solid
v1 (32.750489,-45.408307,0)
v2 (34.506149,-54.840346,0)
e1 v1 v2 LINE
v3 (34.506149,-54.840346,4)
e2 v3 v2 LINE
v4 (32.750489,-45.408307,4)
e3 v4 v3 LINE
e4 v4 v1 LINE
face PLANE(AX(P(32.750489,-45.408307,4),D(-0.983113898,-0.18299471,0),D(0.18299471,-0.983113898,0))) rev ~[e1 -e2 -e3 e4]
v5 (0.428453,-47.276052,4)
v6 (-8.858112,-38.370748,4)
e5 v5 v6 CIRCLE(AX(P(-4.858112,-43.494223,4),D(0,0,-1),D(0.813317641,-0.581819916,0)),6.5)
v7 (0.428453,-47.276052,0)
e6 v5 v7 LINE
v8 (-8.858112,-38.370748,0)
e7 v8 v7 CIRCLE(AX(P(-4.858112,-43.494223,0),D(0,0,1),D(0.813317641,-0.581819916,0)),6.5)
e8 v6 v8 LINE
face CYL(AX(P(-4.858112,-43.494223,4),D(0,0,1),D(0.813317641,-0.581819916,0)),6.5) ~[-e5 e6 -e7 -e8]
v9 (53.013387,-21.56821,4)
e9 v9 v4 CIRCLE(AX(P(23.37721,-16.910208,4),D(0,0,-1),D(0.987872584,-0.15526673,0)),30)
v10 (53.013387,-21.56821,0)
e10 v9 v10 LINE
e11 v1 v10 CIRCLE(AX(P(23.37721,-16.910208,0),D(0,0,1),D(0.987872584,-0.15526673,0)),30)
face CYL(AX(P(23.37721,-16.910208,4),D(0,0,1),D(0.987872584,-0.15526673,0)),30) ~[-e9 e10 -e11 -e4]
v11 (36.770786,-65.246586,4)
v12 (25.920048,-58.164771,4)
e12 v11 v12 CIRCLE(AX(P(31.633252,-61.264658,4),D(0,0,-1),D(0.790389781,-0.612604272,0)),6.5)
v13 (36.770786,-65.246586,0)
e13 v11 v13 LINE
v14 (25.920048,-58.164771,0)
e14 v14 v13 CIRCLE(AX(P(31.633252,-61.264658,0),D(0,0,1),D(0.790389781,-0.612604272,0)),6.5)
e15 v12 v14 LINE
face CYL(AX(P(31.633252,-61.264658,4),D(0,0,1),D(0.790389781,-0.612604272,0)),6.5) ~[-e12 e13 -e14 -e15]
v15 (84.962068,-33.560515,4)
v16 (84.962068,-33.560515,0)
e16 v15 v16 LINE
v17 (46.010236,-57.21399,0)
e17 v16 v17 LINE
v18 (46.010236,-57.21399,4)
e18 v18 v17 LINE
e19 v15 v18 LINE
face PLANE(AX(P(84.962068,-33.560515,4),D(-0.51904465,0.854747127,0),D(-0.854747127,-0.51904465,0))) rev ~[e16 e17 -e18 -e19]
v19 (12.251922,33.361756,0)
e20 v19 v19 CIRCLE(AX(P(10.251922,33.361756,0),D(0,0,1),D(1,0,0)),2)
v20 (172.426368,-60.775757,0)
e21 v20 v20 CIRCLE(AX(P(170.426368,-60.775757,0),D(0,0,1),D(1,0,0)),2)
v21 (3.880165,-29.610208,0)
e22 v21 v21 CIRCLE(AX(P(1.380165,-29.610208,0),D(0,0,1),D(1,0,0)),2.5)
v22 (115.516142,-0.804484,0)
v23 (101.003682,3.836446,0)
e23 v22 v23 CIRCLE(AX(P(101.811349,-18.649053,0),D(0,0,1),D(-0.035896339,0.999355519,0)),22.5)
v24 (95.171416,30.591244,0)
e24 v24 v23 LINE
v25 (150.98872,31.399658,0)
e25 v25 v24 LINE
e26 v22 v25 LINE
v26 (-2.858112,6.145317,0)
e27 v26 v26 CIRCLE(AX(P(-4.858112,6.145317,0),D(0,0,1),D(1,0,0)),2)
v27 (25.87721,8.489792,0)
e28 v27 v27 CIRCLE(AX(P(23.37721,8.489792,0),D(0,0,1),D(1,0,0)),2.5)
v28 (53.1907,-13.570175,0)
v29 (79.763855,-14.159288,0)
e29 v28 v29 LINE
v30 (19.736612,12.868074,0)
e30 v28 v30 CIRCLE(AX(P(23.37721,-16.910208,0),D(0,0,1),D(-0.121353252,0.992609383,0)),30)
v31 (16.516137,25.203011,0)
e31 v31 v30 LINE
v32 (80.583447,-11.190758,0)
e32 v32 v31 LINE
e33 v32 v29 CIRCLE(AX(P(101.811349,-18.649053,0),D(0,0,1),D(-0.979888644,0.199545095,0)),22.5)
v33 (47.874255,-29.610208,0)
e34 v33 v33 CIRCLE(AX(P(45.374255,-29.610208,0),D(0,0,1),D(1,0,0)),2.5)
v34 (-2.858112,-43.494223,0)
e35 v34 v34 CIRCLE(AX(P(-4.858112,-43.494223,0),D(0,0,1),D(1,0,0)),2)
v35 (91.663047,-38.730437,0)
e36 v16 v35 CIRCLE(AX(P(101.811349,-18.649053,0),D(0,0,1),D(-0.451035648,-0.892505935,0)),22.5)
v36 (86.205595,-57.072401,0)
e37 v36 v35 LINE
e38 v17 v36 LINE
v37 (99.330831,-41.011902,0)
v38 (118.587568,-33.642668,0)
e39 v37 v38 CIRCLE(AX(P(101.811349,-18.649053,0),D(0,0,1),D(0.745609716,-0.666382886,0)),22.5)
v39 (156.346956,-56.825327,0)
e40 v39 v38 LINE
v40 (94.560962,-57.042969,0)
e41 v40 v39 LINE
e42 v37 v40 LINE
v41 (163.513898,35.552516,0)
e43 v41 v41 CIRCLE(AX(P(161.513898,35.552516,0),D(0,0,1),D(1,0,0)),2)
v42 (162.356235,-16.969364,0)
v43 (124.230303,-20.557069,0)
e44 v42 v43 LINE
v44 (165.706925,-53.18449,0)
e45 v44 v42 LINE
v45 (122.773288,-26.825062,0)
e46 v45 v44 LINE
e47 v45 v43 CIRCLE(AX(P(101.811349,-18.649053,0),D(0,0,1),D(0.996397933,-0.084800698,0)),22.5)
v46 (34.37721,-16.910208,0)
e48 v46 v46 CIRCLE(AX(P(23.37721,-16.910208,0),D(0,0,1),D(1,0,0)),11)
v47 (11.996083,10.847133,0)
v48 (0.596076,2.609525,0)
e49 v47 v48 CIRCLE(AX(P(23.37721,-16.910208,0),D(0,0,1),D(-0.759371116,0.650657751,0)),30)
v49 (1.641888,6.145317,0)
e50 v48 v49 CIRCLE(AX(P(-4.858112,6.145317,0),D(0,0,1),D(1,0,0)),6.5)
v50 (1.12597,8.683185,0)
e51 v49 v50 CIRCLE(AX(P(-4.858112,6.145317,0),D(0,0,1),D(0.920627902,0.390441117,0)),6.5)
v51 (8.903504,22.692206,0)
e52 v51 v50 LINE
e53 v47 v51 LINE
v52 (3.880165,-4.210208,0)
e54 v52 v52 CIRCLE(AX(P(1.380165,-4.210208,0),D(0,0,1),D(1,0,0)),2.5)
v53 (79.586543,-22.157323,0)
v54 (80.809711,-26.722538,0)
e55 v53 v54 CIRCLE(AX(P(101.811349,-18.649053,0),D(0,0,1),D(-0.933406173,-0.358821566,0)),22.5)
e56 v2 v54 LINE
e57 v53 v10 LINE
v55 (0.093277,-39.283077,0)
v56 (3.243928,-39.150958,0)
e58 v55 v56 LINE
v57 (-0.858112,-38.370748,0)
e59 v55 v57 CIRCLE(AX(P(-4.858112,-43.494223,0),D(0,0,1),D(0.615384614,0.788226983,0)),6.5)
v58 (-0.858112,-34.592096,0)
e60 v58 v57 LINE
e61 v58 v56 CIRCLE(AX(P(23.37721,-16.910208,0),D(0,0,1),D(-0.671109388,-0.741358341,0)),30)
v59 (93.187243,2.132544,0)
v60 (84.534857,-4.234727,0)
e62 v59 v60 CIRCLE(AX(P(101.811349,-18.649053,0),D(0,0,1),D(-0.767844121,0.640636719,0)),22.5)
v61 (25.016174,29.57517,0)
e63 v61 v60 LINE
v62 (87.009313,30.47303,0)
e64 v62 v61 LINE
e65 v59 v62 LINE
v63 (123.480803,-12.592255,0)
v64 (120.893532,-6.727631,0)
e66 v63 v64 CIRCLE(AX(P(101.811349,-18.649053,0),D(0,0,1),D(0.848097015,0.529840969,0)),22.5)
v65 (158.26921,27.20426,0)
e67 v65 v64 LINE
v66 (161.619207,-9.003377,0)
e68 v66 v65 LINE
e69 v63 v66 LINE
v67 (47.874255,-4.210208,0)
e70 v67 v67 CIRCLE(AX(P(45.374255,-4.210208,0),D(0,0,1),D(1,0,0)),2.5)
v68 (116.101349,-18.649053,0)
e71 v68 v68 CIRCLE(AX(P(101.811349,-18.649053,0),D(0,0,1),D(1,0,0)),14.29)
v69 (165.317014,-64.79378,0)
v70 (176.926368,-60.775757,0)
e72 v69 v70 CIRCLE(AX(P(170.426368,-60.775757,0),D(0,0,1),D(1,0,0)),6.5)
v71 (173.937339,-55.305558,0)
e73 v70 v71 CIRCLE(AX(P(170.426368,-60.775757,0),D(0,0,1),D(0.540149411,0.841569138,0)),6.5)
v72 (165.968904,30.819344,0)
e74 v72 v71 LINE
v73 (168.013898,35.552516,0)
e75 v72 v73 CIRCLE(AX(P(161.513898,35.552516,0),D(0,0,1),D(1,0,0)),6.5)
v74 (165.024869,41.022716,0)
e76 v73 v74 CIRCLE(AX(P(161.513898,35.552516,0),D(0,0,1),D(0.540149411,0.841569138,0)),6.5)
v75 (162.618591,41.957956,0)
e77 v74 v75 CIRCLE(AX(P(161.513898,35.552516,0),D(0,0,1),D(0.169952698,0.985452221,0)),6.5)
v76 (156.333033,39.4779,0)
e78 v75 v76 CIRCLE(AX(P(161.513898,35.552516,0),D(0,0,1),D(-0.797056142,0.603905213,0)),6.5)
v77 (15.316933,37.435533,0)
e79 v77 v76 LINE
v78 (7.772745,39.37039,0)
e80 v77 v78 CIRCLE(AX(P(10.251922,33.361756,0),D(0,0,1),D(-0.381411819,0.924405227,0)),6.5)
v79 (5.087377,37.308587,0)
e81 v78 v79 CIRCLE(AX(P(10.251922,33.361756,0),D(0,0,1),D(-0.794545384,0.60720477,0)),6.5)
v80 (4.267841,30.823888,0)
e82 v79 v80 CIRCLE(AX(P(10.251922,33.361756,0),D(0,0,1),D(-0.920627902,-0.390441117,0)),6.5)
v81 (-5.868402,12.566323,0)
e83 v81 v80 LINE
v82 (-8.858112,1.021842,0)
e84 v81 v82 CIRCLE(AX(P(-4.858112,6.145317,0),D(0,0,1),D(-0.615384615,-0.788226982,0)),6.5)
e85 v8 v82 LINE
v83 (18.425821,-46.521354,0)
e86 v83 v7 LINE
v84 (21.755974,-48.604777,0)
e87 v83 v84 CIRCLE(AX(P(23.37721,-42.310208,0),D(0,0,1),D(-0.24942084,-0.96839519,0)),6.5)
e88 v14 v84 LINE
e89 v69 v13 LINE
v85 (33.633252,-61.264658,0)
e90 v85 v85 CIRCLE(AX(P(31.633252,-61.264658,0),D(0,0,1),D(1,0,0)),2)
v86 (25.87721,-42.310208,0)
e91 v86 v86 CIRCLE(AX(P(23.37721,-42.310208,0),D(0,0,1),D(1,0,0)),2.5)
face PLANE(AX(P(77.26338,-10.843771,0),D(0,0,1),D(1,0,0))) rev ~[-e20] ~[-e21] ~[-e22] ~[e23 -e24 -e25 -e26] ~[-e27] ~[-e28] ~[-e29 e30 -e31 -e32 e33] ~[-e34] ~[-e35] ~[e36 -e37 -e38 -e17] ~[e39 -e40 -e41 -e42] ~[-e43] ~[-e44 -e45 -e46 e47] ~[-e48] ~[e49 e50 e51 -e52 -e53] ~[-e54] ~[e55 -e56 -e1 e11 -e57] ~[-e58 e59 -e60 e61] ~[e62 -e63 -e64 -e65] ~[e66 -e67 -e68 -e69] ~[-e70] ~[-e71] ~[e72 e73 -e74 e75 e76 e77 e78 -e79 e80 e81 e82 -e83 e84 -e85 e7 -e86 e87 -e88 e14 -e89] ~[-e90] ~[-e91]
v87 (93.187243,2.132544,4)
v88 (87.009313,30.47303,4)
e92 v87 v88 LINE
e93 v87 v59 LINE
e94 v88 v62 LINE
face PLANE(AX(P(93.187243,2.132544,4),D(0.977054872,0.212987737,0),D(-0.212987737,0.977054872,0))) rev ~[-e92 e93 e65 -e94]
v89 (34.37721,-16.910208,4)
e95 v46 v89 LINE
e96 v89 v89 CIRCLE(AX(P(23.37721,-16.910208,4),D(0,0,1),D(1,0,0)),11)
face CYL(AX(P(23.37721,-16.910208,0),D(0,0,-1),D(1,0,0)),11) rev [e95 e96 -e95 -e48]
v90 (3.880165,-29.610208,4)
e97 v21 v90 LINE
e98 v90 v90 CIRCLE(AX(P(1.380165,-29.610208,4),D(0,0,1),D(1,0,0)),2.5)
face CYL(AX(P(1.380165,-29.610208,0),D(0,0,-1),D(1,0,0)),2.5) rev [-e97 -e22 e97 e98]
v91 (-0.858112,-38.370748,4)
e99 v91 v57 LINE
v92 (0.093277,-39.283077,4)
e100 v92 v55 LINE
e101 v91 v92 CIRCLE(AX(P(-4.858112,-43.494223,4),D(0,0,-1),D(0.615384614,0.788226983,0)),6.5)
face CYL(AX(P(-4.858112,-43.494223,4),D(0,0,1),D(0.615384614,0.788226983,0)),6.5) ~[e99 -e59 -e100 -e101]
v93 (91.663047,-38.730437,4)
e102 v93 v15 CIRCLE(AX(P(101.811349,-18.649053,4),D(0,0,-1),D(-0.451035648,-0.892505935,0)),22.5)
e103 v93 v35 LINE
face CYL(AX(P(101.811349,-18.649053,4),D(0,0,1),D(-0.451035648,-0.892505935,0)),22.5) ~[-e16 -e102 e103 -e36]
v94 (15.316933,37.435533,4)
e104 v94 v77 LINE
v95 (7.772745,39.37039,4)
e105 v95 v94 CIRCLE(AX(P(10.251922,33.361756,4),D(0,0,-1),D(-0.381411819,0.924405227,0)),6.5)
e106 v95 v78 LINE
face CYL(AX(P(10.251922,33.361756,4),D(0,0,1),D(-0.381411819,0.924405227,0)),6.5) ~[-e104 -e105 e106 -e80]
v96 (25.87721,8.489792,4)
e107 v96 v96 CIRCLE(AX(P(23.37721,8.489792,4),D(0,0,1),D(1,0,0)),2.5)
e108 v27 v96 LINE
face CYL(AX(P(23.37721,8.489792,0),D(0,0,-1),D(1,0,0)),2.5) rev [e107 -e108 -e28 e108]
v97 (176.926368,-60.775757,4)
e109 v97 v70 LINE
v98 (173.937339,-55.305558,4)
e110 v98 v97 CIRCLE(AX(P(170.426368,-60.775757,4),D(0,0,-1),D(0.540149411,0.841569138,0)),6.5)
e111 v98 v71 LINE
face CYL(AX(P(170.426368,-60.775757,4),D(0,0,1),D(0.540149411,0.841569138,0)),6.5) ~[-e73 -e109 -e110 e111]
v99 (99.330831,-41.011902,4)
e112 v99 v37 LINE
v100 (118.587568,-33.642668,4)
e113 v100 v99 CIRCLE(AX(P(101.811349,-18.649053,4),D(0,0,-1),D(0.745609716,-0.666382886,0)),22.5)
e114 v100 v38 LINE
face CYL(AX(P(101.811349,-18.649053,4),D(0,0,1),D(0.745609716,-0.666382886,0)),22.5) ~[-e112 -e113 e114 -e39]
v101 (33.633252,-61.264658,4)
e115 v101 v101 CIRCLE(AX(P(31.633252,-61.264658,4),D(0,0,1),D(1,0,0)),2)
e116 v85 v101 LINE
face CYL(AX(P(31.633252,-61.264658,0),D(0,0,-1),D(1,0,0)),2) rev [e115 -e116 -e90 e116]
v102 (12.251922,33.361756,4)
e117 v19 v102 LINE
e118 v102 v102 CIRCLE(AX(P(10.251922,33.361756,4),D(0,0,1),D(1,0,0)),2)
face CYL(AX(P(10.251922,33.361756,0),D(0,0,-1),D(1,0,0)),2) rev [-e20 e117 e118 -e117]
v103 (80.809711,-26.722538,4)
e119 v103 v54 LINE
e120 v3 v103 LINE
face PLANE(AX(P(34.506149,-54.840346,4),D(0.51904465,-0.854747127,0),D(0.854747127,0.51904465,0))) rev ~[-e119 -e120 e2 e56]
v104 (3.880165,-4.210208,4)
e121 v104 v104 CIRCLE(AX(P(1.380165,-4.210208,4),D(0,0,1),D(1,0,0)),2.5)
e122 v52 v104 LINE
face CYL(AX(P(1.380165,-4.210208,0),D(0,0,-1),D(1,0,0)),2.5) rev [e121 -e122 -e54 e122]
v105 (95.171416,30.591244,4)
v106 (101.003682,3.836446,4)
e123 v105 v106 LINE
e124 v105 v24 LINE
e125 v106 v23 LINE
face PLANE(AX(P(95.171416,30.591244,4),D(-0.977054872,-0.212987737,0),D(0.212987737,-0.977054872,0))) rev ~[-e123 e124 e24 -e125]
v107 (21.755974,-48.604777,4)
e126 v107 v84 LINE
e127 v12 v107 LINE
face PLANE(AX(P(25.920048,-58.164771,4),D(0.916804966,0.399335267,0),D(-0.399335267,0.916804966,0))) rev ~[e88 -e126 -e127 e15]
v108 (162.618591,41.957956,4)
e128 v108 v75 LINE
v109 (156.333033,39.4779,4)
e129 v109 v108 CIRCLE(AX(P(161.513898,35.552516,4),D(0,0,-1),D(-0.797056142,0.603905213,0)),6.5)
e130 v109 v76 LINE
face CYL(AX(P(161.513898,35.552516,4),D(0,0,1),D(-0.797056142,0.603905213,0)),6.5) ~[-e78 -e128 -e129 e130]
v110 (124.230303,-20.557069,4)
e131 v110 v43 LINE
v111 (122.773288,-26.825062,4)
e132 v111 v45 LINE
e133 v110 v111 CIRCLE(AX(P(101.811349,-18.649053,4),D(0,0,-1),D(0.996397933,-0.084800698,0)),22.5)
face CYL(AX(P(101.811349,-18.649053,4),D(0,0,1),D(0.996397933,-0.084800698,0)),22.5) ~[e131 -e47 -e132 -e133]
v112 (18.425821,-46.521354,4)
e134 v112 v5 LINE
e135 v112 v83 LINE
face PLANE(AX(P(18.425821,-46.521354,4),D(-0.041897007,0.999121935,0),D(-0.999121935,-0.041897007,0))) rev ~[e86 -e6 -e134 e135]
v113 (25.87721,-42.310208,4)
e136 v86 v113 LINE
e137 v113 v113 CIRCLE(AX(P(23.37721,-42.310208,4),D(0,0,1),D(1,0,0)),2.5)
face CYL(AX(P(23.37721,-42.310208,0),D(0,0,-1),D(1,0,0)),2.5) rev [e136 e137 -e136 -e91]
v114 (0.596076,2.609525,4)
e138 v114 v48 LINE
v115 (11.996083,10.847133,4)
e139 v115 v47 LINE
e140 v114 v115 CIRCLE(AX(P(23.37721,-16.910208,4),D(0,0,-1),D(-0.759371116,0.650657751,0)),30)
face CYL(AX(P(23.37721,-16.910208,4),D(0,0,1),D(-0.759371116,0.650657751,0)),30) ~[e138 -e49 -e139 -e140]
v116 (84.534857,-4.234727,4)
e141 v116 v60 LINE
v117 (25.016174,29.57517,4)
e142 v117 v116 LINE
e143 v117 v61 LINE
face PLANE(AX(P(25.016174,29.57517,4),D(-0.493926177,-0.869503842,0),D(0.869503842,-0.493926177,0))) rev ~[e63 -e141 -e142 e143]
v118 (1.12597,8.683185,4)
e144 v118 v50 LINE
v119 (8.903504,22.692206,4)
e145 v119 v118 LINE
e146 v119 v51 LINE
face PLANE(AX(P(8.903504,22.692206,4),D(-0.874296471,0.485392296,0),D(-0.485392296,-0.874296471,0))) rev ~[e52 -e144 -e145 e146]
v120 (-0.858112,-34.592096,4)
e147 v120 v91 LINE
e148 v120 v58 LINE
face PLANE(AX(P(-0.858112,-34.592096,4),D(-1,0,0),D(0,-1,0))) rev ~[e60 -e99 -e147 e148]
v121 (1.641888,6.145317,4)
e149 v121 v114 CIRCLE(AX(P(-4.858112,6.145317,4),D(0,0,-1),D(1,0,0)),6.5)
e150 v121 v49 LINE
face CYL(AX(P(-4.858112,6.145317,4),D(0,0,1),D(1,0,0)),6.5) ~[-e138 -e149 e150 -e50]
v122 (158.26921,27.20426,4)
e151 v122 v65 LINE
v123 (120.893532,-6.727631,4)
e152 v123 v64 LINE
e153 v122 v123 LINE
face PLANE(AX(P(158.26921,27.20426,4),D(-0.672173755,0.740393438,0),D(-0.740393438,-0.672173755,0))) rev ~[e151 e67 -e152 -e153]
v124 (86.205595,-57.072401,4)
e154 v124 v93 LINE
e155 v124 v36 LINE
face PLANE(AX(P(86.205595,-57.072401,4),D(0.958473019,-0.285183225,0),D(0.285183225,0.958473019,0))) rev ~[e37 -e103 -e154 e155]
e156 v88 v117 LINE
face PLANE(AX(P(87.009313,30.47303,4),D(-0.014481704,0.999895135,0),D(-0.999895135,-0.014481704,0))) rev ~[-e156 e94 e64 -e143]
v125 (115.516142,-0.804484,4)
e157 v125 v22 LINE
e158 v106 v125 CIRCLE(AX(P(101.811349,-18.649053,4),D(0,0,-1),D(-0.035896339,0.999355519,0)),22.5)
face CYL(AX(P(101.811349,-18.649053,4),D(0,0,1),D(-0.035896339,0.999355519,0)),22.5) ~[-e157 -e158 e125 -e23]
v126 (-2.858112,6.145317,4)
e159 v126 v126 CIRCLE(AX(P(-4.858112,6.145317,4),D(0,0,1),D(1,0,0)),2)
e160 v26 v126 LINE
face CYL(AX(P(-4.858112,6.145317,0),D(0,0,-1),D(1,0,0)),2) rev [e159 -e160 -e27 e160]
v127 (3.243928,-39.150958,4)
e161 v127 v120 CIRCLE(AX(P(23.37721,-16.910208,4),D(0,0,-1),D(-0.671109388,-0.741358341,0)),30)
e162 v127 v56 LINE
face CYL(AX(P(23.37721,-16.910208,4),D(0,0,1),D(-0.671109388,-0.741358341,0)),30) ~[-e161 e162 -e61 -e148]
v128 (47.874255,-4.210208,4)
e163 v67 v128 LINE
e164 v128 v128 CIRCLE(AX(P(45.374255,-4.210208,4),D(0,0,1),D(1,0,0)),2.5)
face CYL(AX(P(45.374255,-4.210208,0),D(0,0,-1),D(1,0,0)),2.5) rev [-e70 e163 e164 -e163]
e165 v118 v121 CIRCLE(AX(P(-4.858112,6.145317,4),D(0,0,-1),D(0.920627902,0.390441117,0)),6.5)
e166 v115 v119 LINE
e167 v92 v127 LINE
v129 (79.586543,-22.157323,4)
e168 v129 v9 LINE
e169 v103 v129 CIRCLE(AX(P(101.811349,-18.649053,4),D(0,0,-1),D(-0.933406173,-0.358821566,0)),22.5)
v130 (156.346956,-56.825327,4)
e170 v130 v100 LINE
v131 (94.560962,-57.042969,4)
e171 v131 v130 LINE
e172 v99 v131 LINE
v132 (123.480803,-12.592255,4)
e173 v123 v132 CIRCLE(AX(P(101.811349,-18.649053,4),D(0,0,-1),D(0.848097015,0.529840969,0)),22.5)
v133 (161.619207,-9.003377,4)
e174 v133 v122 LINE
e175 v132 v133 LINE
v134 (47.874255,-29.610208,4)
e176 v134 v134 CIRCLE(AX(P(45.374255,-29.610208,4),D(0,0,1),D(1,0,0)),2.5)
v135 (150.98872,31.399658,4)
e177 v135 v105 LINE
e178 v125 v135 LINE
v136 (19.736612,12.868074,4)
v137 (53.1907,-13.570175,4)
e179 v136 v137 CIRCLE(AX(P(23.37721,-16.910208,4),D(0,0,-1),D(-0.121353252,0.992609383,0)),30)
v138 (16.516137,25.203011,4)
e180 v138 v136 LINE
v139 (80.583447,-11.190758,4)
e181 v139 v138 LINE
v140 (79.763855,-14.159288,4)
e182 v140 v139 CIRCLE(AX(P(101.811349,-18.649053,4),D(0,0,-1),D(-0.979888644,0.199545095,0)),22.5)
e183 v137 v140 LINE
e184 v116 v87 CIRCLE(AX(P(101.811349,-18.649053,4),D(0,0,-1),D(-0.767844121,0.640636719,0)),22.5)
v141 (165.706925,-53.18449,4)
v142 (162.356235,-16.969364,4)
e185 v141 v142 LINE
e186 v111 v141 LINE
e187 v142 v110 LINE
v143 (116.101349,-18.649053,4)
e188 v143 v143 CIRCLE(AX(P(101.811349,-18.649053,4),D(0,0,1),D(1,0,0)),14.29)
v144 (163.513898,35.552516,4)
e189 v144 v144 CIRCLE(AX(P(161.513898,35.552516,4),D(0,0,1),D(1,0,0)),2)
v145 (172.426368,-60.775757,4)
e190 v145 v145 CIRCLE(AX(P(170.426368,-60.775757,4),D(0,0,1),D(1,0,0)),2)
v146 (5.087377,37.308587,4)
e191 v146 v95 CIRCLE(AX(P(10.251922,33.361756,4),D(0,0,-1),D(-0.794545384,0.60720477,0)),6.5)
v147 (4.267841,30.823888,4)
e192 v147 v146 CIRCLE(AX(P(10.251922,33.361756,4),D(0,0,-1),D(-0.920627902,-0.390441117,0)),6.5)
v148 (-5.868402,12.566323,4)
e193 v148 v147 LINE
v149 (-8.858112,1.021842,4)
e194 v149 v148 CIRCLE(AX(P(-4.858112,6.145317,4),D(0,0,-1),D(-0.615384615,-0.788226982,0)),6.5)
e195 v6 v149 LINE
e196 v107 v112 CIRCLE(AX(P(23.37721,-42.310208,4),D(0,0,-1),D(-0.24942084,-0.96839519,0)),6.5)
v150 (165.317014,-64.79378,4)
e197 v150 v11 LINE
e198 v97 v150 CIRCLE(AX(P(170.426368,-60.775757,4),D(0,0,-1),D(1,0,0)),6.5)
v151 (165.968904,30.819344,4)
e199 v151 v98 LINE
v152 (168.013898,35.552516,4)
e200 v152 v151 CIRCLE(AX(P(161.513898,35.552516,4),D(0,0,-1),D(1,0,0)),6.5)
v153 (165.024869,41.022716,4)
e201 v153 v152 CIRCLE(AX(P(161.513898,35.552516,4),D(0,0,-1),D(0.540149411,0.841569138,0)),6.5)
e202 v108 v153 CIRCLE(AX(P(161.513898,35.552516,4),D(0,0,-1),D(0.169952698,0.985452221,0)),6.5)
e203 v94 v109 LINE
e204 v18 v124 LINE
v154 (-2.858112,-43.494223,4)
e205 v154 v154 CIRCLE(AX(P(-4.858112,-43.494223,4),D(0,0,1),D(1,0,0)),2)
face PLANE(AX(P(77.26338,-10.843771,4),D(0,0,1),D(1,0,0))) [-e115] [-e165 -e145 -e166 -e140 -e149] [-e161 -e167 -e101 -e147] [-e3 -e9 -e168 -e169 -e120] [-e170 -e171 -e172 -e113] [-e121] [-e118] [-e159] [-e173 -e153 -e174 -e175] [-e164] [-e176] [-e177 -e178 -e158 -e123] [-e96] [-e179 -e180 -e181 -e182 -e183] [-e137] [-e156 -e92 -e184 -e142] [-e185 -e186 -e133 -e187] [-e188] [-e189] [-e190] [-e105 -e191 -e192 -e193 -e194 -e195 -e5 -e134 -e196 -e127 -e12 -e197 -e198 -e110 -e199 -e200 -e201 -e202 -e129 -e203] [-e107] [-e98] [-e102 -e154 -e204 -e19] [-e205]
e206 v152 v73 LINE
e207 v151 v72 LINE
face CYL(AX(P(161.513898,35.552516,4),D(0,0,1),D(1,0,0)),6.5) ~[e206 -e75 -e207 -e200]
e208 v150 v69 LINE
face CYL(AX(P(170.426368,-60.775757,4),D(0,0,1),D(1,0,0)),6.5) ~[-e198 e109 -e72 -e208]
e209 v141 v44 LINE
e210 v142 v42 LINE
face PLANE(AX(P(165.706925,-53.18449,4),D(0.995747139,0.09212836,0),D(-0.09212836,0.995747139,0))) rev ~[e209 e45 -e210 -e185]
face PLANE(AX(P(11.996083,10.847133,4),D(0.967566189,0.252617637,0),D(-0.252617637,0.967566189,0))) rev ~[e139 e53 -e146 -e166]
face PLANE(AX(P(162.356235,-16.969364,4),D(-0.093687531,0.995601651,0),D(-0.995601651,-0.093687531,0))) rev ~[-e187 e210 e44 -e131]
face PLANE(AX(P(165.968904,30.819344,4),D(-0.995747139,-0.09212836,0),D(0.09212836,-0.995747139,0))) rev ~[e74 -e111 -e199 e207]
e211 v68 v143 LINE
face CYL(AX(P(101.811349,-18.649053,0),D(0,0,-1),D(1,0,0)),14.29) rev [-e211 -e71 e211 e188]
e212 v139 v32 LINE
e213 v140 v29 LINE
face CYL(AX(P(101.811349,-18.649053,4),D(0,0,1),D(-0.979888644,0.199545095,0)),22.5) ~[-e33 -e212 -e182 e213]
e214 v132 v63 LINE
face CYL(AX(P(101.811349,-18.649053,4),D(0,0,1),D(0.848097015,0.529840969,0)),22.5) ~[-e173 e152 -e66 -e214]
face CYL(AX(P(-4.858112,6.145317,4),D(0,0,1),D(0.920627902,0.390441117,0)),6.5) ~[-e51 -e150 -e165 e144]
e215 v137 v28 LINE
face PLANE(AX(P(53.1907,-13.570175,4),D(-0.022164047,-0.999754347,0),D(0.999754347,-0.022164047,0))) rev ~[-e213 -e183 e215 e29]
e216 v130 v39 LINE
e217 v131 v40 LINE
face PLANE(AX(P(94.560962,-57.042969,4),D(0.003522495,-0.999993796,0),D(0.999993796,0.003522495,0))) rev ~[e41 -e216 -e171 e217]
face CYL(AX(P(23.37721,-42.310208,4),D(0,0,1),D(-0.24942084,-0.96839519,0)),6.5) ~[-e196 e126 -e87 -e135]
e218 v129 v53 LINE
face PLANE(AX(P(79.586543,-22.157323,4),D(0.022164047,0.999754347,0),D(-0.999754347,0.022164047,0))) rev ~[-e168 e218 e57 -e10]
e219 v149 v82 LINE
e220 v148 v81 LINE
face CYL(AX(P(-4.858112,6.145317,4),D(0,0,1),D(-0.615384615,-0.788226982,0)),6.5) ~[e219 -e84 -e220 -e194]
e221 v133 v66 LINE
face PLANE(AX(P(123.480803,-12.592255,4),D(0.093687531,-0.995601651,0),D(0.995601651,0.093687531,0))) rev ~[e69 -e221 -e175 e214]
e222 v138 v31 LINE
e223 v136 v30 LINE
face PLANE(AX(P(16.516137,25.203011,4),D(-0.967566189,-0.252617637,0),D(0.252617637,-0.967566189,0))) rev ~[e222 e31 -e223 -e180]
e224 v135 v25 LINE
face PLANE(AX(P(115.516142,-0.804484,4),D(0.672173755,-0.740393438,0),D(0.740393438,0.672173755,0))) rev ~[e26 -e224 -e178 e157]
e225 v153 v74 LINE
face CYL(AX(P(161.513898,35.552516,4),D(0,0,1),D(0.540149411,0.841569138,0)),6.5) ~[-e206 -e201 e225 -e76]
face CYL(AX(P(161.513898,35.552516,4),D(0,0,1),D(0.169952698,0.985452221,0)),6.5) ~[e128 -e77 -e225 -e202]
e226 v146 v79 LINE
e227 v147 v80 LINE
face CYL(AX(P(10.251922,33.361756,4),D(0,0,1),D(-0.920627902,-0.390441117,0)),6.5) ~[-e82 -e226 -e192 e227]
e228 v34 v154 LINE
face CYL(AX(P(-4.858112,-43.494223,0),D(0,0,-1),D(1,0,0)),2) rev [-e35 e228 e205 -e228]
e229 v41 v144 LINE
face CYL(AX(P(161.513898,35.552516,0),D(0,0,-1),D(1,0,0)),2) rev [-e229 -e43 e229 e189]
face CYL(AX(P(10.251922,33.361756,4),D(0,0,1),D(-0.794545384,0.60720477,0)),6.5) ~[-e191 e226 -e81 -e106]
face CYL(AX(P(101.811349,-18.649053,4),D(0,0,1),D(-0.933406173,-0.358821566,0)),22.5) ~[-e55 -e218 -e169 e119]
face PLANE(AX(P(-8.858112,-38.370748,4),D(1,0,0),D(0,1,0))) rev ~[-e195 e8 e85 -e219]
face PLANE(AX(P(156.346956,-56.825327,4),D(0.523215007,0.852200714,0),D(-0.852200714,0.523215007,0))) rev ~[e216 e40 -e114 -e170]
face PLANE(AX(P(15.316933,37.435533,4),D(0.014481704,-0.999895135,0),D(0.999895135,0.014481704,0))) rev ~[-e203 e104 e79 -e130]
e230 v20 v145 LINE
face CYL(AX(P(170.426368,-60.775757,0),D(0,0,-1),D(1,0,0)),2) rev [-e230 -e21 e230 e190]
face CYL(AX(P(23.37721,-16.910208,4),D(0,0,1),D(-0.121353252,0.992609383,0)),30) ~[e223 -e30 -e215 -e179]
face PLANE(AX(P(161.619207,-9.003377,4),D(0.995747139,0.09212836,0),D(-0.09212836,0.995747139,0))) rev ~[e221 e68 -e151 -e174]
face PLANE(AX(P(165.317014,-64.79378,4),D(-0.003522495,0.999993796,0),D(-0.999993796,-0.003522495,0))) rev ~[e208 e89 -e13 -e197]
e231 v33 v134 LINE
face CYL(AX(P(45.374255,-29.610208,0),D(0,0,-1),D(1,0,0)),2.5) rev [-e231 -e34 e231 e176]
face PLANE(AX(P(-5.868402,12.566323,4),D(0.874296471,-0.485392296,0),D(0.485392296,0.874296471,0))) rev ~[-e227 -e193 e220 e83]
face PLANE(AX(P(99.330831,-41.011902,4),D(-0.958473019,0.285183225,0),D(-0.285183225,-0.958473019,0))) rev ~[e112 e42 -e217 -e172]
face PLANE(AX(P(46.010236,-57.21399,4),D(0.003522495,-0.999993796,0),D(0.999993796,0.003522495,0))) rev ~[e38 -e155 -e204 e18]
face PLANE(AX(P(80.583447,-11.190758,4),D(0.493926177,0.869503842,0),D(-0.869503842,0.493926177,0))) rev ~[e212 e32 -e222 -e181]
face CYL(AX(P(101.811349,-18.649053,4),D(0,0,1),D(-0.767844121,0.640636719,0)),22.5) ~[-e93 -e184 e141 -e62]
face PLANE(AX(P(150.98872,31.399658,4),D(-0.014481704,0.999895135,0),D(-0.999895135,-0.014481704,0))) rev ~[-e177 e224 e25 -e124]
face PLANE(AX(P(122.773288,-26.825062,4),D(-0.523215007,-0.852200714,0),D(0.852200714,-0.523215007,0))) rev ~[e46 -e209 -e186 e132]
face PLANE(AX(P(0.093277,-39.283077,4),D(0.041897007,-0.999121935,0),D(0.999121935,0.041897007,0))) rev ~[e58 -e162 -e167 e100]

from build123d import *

# Parameters (mm, degrees)
SKETCH1_W           = 267.603014698
SKETCH1_H           = 153.453144762
SKETCH1_R           = 2
SKETCH1_R_2         = 14.29
SKETCH1_R_3         = 2.499999953
SKETCH1_R_4         = 11
BOSS_EXTRUDE1_DEPTH = 4
SKETCH2_W           = 305.655174706
SKETCH2_H           = 186.291776367
CUT_EXTRUDE8_DEPTH  = 10


with BuildPart() as part:
    # Sketch1 → Boss-Extrude1 (new body)
    with BuildSketch(Plane.XY):
        with Locations((77.263379783, -10.843771022)):
            Rectangle(SKETCH1_W, SKETCH1_H)
        with Locations((-4.85811184, -43.49422294)):
            Circle(SKETCH1_R, mode=Mode.SUBTRACT)
        with Locations((101.811349412, -18.649052962)):
            Circle(SKETCH1_R_2, mode=Mode.SUBTRACT)
        with Locations((31.633252021, -61.264657987)):
            Circle(SKETCH1_R, mode=Mode.SUBTRACT)
        with Locations((10.251922178, 33.361755578)):
            Circle(SKETCH1_R, mode=Mode.SUBTRACT)
        with Locations((170.426367515, -60.775756941)):
            Circle(SKETCH1_R, mode=Mode.SUBTRACT)
        with Locations((161.513898191, 35.55251649)):
            Circle(SKETCH1_R, mode=Mode.SUBTRACT)
        with Locations((-4.85811184, 6.145317428)):
            Circle(SKETCH1_R, mode=Mode.SUBTRACT)
        with Locations((23.377209906, -42.310207828)):
            Circle(SKETCH1_R_3, mode=Mode.SUBTRACT)
        with Locations((23.377209906, -16.910207828)):
            Circle(SKETCH1_R_4, mode=Mode.SUBTRACT)
        with Locations((1.38016465, -29.610207828)):
            Circle(SKETCH1_R_3, mode=Mode.SUBTRACT)
        with Locations((1.38016465, -4.210207828)):
            Circle(SKETCH1_R_3, mode=Mode.SUBTRACT)
        with Locations((23.377209906, 8.489792172)):
            Circle(SKETCH1_R_3, mode=Mode.SUBTRACT)
        with Locations((45.374255162, -4.210207828)):
            Circle(SKETCH1_R_3, mode=Mode.SUBTRACT)
        with Locations((45.374255162, -29.610207828)):
            Circle(SKETCH1_R_3, mode=Mode.SUBTRACT)
    extrude(amount=BOSS_EXTRUDE1_DEPTH)

    # Sketch2 → Cut-Extrude8 (cut)
    # profile 1 of 11: a face of its own
    with BuildSketch(Plane.XY.offset(4)):
        with Locations((67.603615112, -0.467239306)):
            Rectangle(SKETCH2_W, SKETCH2_H)
        with BuildLine():
            Line((15.316933469, 37.435532771), (156.333033267, 39.477900374))
            ThreePointArc((156.333033267, 39.477900374), (159.128219206, 41.598881992), (162.618590728, 41.957955929))
            ThreePointArc((162.618590728, 41.957955929), (163.868628825, 41.61100175), (165.024869365, 41.022715885))
            ThreePointArc((165.024869365, 41.022715885), (167.217901725, 38.66930068), (168.013898191, 35.55251649))
            ThreePointArc((168.013898191, 35.55251649), (167.480787607, 32.974488039), (165.968904131, 30.819343974))
            Line((165.968904131, 30.819343974), (173.937338688, -55.305557546))
            ThreePointArc((173.937338688, -55.305557546), (176.130371049, -57.658972751), (176.926367515, -60.775756941))
            ThreePointArc((176.926367515, -60.775756941), (172.552302777, -66.918264512), (165.317013897, -64.79377954))
            Line((165.317013897, -64.79377954), (36.770785596, -65.246585756))
            ThreePointArc((36.770785596, -65.246585756), (28.080665231, -66.707922367), (25.920047751, -58.164771381))
            Line((25.920047751, -58.164771381), (21.755974451, -48.604776567))
            ThreePointArc((21.755974451, -48.604776567), (19.929745718, -47.82065161), (18.425821295, -46.521353851))
            Line((18.425821295, -46.521353851), (0.428452826, -47.276052396))
            ThreePointArc((0.428452826, -47.276052396), (-9.356992337, -48.185712497), (-8.85811184, -38.370747557))
            Line((-8.85811184, -38.370747557), (-8.85811184, 1.021842045))
            ThreePointArc((-8.85811184, 1.021842045), (-11.150528938, 7.774883952), (-5.868402241, 12.566323058))
            Line((-5.868402241, 12.566323058), (4.267840814, 30.823888318))
            ThreePointArc((4.267840814, 30.823888318), (3.803217243, 34.176743104), (5.087377177, 37.308586577))
            ThreePointArc((5.087377177, 37.308586577), (6.293465571, 38.517395333), (7.772745355, 39.370389556))
            ThreePointArc((7.772745355, 39.370389556), (11.866714012, 39.657980425), (15.316933469, 37.435532771))
        make_face(mode=Mode.SUBTRACT)
    # profile 2 of 11: a face of its own
    with BuildSketch(Plane.XY.offset(4)):
        with BuildLine():
            Line((87.009313409, 30.473030477), (25.016174455, 29.575170029))
            Line((25.016174455, 29.575170029), (84.534856694, -4.234726778))
            ThreePointArc((84.534856694, -4.234726778), (88.475465617, -0.527126923), (93.187242807, 2.132544312))
            Line((93.187242807, 2.132544312), (87.009313409, 30.473030477))
        make_face()
    # profile 3 of 11: a face of its own
    with BuildSketch(Plane.XY.offset(4)):
        with BuildLine():
            Line((115.516142216, -0.804483643), (150.988719582, 31.399658477))
            Line((150.988719582, 31.399658477), (95.171415855, 30.591244026))
            Line((95.171415855, 30.591244026), (101.003681787, 3.83644621))
            ThreePointArc((101.003681787, 3.83644621), (108.66470749, 2.781800569), (115.516142216, -0.804483643))
        make_face()
    # profile 4 of 11: a face of its own
    with BuildSketch(Plane.XY.offset(4)):
        with BuildLine():
            Line((158.26921014, 27.20426024), (120.893532253, -6.72763115))
            ThreePointArc((120.893532253, -6.72763115), (122.397082717, -9.567335928), (123.480802665, -12.592255482))
            Line((123.480802665, -12.592255482), (161.619207477, -9.003377368))
            Line((161.619207477, -9.003377368), (158.26921014, 27.20426024))
        make_face()
    # profile 5 of 11: a face of its own
    with BuildSketch(Plane.XY.offset(4)):
        with BuildLine():
            Line((122.77328809, -26.825062188), (165.706925432, -53.184490212))
            Line((165.706925432, -53.184490212), (162.356235259, -16.969364249))
            Line((162.356235259, -16.969364249), (124.230302911, -20.557068686))
            ThreePointArc((124.230302911, -20.557068686), (123.727037564, -23.743423664), (122.77328809, -26.825062188))
        make_face()
    # profile 6 of 11: a face of its own
    with BuildSketch(Plane.XY.offset(4)):
        with BuildLine():
            Line((94.560961812, -57.042969272), (156.346956485, -56.825327083))
            Line((156.346956485, -56.825327083), (118.587568032, -33.642667897))
            ThreePointArc((118.587568032, -33.642667897), (109.853001514, -39.662901526), (99.330831485, -41.011902307))
            Line((99.330831485, -41.011902307), (94.560961812, -57.042969272))
        make_face()
    # profile 7 of 11: a face of its own
    with BuildSketch(Plane.XY.offset(4)):
        with BuildLine():
            Line((84.962067713, -33.560515205), (46.010236401, -57.213990006))
            Line((46.010236401, -57.213990006), (86.20559517, -57.072401189))
            Line((86.20559517, -57.072401189), (91.663047334, -38.730436503))
            ThreePointArc((91.663047334, -38.730436503), (88.067281455, -36.463389772), (84.962067713, -33.560515205))
        make_face()
    # profile 8 of 11: a face of its own
    with BuildSketch(Plane.XY.offset(4)):
        with BuildLine():
            ThreePointArc((80.809710516, -26.722538187), (80.077925828, -24.47213628), (79.586542538, -22.157323106))
            Line((79.586542538, -22.157323106), (53.013387432, -21.568209721))
            ThreePointArc((53.013387432, -21.568209721), (46.235949771, -36.339001197), (32.750489376, -45.408306571))
            Line((32.750489376, -45.408306571), (34.506149029, -54.840346462))
            Line((34.506149029, -54.840346462), (80.809710516, -26.722538187))
        make_face()
    # profile 9 of 11: a face of its own
    with BuildSketch(Plane.XY.offset(4)):
        with BuildLine():
            ThreePointArc((79.763854917, -14.159288328), (80.122803307, -12.660984172), (80.583447278, -11.190757516))
            Line((80.583447278, -11.190757516), (16.516137359, 25.203010887))
            Line((16.516137359, 25.203010887), (19.736612333, 12.868073675))
            ThreePointArc((19.736612333, 12.868073675), (41.978293765, 6.62698995), (53.190699811, -13.570174942))
            Line((53.190699811, -13.570174942), (79.763854917, -14.159288328))
        make_face()
    # profile 10 of 11: a face of its own
    with BuildSketch(Plane.XY.offset(4)):
        with BuildLine():
            Line((11.996082824, 10.847132577), (8.903504201, 22.692206192))
            Line((8.903504201, 22.692206192), (1.125969524, 8.683184687))
            ThreePointArc((1.125969524, 8.683184687), (1.511602787, 7.440205673), (1.64188816, 6.145317428))
            ThreePointArc((1.64188816, 6.145317428), (1.374954172, 4.30171007), (0.59607644, 2.609524701))
            ThreePointArc((0.59607644, 2.609524701), (5.806508232, 7.405845361), (11.996082824, 10.847132577))
        make_face()
    # profile 11 of 11: a face of its own
    with BuildSketch(Plane.XY.offset(4)):
        with BuildLine():
            Line((-0.85811184, -34.592096299), (-0.85811184, -38.370747557))
            ThreePointArc((-0.85811184, -38.370747557), (-0.359231342, -38.802733382), (0.093276771, -39.283076917))
            Line((0.093276771, -39.283076917), (3.243928256, -39.150958041))
            ThreePointArc((3.243928256, -39.150958041), (1.076110226, -36.976621387), (-0.85811184, -34.592096299))
        make_face()
    extrude(amount=-CUT_EXTRUDE8_DEPTH, mode=Mode.SUBTRACT)


solid = part.part
